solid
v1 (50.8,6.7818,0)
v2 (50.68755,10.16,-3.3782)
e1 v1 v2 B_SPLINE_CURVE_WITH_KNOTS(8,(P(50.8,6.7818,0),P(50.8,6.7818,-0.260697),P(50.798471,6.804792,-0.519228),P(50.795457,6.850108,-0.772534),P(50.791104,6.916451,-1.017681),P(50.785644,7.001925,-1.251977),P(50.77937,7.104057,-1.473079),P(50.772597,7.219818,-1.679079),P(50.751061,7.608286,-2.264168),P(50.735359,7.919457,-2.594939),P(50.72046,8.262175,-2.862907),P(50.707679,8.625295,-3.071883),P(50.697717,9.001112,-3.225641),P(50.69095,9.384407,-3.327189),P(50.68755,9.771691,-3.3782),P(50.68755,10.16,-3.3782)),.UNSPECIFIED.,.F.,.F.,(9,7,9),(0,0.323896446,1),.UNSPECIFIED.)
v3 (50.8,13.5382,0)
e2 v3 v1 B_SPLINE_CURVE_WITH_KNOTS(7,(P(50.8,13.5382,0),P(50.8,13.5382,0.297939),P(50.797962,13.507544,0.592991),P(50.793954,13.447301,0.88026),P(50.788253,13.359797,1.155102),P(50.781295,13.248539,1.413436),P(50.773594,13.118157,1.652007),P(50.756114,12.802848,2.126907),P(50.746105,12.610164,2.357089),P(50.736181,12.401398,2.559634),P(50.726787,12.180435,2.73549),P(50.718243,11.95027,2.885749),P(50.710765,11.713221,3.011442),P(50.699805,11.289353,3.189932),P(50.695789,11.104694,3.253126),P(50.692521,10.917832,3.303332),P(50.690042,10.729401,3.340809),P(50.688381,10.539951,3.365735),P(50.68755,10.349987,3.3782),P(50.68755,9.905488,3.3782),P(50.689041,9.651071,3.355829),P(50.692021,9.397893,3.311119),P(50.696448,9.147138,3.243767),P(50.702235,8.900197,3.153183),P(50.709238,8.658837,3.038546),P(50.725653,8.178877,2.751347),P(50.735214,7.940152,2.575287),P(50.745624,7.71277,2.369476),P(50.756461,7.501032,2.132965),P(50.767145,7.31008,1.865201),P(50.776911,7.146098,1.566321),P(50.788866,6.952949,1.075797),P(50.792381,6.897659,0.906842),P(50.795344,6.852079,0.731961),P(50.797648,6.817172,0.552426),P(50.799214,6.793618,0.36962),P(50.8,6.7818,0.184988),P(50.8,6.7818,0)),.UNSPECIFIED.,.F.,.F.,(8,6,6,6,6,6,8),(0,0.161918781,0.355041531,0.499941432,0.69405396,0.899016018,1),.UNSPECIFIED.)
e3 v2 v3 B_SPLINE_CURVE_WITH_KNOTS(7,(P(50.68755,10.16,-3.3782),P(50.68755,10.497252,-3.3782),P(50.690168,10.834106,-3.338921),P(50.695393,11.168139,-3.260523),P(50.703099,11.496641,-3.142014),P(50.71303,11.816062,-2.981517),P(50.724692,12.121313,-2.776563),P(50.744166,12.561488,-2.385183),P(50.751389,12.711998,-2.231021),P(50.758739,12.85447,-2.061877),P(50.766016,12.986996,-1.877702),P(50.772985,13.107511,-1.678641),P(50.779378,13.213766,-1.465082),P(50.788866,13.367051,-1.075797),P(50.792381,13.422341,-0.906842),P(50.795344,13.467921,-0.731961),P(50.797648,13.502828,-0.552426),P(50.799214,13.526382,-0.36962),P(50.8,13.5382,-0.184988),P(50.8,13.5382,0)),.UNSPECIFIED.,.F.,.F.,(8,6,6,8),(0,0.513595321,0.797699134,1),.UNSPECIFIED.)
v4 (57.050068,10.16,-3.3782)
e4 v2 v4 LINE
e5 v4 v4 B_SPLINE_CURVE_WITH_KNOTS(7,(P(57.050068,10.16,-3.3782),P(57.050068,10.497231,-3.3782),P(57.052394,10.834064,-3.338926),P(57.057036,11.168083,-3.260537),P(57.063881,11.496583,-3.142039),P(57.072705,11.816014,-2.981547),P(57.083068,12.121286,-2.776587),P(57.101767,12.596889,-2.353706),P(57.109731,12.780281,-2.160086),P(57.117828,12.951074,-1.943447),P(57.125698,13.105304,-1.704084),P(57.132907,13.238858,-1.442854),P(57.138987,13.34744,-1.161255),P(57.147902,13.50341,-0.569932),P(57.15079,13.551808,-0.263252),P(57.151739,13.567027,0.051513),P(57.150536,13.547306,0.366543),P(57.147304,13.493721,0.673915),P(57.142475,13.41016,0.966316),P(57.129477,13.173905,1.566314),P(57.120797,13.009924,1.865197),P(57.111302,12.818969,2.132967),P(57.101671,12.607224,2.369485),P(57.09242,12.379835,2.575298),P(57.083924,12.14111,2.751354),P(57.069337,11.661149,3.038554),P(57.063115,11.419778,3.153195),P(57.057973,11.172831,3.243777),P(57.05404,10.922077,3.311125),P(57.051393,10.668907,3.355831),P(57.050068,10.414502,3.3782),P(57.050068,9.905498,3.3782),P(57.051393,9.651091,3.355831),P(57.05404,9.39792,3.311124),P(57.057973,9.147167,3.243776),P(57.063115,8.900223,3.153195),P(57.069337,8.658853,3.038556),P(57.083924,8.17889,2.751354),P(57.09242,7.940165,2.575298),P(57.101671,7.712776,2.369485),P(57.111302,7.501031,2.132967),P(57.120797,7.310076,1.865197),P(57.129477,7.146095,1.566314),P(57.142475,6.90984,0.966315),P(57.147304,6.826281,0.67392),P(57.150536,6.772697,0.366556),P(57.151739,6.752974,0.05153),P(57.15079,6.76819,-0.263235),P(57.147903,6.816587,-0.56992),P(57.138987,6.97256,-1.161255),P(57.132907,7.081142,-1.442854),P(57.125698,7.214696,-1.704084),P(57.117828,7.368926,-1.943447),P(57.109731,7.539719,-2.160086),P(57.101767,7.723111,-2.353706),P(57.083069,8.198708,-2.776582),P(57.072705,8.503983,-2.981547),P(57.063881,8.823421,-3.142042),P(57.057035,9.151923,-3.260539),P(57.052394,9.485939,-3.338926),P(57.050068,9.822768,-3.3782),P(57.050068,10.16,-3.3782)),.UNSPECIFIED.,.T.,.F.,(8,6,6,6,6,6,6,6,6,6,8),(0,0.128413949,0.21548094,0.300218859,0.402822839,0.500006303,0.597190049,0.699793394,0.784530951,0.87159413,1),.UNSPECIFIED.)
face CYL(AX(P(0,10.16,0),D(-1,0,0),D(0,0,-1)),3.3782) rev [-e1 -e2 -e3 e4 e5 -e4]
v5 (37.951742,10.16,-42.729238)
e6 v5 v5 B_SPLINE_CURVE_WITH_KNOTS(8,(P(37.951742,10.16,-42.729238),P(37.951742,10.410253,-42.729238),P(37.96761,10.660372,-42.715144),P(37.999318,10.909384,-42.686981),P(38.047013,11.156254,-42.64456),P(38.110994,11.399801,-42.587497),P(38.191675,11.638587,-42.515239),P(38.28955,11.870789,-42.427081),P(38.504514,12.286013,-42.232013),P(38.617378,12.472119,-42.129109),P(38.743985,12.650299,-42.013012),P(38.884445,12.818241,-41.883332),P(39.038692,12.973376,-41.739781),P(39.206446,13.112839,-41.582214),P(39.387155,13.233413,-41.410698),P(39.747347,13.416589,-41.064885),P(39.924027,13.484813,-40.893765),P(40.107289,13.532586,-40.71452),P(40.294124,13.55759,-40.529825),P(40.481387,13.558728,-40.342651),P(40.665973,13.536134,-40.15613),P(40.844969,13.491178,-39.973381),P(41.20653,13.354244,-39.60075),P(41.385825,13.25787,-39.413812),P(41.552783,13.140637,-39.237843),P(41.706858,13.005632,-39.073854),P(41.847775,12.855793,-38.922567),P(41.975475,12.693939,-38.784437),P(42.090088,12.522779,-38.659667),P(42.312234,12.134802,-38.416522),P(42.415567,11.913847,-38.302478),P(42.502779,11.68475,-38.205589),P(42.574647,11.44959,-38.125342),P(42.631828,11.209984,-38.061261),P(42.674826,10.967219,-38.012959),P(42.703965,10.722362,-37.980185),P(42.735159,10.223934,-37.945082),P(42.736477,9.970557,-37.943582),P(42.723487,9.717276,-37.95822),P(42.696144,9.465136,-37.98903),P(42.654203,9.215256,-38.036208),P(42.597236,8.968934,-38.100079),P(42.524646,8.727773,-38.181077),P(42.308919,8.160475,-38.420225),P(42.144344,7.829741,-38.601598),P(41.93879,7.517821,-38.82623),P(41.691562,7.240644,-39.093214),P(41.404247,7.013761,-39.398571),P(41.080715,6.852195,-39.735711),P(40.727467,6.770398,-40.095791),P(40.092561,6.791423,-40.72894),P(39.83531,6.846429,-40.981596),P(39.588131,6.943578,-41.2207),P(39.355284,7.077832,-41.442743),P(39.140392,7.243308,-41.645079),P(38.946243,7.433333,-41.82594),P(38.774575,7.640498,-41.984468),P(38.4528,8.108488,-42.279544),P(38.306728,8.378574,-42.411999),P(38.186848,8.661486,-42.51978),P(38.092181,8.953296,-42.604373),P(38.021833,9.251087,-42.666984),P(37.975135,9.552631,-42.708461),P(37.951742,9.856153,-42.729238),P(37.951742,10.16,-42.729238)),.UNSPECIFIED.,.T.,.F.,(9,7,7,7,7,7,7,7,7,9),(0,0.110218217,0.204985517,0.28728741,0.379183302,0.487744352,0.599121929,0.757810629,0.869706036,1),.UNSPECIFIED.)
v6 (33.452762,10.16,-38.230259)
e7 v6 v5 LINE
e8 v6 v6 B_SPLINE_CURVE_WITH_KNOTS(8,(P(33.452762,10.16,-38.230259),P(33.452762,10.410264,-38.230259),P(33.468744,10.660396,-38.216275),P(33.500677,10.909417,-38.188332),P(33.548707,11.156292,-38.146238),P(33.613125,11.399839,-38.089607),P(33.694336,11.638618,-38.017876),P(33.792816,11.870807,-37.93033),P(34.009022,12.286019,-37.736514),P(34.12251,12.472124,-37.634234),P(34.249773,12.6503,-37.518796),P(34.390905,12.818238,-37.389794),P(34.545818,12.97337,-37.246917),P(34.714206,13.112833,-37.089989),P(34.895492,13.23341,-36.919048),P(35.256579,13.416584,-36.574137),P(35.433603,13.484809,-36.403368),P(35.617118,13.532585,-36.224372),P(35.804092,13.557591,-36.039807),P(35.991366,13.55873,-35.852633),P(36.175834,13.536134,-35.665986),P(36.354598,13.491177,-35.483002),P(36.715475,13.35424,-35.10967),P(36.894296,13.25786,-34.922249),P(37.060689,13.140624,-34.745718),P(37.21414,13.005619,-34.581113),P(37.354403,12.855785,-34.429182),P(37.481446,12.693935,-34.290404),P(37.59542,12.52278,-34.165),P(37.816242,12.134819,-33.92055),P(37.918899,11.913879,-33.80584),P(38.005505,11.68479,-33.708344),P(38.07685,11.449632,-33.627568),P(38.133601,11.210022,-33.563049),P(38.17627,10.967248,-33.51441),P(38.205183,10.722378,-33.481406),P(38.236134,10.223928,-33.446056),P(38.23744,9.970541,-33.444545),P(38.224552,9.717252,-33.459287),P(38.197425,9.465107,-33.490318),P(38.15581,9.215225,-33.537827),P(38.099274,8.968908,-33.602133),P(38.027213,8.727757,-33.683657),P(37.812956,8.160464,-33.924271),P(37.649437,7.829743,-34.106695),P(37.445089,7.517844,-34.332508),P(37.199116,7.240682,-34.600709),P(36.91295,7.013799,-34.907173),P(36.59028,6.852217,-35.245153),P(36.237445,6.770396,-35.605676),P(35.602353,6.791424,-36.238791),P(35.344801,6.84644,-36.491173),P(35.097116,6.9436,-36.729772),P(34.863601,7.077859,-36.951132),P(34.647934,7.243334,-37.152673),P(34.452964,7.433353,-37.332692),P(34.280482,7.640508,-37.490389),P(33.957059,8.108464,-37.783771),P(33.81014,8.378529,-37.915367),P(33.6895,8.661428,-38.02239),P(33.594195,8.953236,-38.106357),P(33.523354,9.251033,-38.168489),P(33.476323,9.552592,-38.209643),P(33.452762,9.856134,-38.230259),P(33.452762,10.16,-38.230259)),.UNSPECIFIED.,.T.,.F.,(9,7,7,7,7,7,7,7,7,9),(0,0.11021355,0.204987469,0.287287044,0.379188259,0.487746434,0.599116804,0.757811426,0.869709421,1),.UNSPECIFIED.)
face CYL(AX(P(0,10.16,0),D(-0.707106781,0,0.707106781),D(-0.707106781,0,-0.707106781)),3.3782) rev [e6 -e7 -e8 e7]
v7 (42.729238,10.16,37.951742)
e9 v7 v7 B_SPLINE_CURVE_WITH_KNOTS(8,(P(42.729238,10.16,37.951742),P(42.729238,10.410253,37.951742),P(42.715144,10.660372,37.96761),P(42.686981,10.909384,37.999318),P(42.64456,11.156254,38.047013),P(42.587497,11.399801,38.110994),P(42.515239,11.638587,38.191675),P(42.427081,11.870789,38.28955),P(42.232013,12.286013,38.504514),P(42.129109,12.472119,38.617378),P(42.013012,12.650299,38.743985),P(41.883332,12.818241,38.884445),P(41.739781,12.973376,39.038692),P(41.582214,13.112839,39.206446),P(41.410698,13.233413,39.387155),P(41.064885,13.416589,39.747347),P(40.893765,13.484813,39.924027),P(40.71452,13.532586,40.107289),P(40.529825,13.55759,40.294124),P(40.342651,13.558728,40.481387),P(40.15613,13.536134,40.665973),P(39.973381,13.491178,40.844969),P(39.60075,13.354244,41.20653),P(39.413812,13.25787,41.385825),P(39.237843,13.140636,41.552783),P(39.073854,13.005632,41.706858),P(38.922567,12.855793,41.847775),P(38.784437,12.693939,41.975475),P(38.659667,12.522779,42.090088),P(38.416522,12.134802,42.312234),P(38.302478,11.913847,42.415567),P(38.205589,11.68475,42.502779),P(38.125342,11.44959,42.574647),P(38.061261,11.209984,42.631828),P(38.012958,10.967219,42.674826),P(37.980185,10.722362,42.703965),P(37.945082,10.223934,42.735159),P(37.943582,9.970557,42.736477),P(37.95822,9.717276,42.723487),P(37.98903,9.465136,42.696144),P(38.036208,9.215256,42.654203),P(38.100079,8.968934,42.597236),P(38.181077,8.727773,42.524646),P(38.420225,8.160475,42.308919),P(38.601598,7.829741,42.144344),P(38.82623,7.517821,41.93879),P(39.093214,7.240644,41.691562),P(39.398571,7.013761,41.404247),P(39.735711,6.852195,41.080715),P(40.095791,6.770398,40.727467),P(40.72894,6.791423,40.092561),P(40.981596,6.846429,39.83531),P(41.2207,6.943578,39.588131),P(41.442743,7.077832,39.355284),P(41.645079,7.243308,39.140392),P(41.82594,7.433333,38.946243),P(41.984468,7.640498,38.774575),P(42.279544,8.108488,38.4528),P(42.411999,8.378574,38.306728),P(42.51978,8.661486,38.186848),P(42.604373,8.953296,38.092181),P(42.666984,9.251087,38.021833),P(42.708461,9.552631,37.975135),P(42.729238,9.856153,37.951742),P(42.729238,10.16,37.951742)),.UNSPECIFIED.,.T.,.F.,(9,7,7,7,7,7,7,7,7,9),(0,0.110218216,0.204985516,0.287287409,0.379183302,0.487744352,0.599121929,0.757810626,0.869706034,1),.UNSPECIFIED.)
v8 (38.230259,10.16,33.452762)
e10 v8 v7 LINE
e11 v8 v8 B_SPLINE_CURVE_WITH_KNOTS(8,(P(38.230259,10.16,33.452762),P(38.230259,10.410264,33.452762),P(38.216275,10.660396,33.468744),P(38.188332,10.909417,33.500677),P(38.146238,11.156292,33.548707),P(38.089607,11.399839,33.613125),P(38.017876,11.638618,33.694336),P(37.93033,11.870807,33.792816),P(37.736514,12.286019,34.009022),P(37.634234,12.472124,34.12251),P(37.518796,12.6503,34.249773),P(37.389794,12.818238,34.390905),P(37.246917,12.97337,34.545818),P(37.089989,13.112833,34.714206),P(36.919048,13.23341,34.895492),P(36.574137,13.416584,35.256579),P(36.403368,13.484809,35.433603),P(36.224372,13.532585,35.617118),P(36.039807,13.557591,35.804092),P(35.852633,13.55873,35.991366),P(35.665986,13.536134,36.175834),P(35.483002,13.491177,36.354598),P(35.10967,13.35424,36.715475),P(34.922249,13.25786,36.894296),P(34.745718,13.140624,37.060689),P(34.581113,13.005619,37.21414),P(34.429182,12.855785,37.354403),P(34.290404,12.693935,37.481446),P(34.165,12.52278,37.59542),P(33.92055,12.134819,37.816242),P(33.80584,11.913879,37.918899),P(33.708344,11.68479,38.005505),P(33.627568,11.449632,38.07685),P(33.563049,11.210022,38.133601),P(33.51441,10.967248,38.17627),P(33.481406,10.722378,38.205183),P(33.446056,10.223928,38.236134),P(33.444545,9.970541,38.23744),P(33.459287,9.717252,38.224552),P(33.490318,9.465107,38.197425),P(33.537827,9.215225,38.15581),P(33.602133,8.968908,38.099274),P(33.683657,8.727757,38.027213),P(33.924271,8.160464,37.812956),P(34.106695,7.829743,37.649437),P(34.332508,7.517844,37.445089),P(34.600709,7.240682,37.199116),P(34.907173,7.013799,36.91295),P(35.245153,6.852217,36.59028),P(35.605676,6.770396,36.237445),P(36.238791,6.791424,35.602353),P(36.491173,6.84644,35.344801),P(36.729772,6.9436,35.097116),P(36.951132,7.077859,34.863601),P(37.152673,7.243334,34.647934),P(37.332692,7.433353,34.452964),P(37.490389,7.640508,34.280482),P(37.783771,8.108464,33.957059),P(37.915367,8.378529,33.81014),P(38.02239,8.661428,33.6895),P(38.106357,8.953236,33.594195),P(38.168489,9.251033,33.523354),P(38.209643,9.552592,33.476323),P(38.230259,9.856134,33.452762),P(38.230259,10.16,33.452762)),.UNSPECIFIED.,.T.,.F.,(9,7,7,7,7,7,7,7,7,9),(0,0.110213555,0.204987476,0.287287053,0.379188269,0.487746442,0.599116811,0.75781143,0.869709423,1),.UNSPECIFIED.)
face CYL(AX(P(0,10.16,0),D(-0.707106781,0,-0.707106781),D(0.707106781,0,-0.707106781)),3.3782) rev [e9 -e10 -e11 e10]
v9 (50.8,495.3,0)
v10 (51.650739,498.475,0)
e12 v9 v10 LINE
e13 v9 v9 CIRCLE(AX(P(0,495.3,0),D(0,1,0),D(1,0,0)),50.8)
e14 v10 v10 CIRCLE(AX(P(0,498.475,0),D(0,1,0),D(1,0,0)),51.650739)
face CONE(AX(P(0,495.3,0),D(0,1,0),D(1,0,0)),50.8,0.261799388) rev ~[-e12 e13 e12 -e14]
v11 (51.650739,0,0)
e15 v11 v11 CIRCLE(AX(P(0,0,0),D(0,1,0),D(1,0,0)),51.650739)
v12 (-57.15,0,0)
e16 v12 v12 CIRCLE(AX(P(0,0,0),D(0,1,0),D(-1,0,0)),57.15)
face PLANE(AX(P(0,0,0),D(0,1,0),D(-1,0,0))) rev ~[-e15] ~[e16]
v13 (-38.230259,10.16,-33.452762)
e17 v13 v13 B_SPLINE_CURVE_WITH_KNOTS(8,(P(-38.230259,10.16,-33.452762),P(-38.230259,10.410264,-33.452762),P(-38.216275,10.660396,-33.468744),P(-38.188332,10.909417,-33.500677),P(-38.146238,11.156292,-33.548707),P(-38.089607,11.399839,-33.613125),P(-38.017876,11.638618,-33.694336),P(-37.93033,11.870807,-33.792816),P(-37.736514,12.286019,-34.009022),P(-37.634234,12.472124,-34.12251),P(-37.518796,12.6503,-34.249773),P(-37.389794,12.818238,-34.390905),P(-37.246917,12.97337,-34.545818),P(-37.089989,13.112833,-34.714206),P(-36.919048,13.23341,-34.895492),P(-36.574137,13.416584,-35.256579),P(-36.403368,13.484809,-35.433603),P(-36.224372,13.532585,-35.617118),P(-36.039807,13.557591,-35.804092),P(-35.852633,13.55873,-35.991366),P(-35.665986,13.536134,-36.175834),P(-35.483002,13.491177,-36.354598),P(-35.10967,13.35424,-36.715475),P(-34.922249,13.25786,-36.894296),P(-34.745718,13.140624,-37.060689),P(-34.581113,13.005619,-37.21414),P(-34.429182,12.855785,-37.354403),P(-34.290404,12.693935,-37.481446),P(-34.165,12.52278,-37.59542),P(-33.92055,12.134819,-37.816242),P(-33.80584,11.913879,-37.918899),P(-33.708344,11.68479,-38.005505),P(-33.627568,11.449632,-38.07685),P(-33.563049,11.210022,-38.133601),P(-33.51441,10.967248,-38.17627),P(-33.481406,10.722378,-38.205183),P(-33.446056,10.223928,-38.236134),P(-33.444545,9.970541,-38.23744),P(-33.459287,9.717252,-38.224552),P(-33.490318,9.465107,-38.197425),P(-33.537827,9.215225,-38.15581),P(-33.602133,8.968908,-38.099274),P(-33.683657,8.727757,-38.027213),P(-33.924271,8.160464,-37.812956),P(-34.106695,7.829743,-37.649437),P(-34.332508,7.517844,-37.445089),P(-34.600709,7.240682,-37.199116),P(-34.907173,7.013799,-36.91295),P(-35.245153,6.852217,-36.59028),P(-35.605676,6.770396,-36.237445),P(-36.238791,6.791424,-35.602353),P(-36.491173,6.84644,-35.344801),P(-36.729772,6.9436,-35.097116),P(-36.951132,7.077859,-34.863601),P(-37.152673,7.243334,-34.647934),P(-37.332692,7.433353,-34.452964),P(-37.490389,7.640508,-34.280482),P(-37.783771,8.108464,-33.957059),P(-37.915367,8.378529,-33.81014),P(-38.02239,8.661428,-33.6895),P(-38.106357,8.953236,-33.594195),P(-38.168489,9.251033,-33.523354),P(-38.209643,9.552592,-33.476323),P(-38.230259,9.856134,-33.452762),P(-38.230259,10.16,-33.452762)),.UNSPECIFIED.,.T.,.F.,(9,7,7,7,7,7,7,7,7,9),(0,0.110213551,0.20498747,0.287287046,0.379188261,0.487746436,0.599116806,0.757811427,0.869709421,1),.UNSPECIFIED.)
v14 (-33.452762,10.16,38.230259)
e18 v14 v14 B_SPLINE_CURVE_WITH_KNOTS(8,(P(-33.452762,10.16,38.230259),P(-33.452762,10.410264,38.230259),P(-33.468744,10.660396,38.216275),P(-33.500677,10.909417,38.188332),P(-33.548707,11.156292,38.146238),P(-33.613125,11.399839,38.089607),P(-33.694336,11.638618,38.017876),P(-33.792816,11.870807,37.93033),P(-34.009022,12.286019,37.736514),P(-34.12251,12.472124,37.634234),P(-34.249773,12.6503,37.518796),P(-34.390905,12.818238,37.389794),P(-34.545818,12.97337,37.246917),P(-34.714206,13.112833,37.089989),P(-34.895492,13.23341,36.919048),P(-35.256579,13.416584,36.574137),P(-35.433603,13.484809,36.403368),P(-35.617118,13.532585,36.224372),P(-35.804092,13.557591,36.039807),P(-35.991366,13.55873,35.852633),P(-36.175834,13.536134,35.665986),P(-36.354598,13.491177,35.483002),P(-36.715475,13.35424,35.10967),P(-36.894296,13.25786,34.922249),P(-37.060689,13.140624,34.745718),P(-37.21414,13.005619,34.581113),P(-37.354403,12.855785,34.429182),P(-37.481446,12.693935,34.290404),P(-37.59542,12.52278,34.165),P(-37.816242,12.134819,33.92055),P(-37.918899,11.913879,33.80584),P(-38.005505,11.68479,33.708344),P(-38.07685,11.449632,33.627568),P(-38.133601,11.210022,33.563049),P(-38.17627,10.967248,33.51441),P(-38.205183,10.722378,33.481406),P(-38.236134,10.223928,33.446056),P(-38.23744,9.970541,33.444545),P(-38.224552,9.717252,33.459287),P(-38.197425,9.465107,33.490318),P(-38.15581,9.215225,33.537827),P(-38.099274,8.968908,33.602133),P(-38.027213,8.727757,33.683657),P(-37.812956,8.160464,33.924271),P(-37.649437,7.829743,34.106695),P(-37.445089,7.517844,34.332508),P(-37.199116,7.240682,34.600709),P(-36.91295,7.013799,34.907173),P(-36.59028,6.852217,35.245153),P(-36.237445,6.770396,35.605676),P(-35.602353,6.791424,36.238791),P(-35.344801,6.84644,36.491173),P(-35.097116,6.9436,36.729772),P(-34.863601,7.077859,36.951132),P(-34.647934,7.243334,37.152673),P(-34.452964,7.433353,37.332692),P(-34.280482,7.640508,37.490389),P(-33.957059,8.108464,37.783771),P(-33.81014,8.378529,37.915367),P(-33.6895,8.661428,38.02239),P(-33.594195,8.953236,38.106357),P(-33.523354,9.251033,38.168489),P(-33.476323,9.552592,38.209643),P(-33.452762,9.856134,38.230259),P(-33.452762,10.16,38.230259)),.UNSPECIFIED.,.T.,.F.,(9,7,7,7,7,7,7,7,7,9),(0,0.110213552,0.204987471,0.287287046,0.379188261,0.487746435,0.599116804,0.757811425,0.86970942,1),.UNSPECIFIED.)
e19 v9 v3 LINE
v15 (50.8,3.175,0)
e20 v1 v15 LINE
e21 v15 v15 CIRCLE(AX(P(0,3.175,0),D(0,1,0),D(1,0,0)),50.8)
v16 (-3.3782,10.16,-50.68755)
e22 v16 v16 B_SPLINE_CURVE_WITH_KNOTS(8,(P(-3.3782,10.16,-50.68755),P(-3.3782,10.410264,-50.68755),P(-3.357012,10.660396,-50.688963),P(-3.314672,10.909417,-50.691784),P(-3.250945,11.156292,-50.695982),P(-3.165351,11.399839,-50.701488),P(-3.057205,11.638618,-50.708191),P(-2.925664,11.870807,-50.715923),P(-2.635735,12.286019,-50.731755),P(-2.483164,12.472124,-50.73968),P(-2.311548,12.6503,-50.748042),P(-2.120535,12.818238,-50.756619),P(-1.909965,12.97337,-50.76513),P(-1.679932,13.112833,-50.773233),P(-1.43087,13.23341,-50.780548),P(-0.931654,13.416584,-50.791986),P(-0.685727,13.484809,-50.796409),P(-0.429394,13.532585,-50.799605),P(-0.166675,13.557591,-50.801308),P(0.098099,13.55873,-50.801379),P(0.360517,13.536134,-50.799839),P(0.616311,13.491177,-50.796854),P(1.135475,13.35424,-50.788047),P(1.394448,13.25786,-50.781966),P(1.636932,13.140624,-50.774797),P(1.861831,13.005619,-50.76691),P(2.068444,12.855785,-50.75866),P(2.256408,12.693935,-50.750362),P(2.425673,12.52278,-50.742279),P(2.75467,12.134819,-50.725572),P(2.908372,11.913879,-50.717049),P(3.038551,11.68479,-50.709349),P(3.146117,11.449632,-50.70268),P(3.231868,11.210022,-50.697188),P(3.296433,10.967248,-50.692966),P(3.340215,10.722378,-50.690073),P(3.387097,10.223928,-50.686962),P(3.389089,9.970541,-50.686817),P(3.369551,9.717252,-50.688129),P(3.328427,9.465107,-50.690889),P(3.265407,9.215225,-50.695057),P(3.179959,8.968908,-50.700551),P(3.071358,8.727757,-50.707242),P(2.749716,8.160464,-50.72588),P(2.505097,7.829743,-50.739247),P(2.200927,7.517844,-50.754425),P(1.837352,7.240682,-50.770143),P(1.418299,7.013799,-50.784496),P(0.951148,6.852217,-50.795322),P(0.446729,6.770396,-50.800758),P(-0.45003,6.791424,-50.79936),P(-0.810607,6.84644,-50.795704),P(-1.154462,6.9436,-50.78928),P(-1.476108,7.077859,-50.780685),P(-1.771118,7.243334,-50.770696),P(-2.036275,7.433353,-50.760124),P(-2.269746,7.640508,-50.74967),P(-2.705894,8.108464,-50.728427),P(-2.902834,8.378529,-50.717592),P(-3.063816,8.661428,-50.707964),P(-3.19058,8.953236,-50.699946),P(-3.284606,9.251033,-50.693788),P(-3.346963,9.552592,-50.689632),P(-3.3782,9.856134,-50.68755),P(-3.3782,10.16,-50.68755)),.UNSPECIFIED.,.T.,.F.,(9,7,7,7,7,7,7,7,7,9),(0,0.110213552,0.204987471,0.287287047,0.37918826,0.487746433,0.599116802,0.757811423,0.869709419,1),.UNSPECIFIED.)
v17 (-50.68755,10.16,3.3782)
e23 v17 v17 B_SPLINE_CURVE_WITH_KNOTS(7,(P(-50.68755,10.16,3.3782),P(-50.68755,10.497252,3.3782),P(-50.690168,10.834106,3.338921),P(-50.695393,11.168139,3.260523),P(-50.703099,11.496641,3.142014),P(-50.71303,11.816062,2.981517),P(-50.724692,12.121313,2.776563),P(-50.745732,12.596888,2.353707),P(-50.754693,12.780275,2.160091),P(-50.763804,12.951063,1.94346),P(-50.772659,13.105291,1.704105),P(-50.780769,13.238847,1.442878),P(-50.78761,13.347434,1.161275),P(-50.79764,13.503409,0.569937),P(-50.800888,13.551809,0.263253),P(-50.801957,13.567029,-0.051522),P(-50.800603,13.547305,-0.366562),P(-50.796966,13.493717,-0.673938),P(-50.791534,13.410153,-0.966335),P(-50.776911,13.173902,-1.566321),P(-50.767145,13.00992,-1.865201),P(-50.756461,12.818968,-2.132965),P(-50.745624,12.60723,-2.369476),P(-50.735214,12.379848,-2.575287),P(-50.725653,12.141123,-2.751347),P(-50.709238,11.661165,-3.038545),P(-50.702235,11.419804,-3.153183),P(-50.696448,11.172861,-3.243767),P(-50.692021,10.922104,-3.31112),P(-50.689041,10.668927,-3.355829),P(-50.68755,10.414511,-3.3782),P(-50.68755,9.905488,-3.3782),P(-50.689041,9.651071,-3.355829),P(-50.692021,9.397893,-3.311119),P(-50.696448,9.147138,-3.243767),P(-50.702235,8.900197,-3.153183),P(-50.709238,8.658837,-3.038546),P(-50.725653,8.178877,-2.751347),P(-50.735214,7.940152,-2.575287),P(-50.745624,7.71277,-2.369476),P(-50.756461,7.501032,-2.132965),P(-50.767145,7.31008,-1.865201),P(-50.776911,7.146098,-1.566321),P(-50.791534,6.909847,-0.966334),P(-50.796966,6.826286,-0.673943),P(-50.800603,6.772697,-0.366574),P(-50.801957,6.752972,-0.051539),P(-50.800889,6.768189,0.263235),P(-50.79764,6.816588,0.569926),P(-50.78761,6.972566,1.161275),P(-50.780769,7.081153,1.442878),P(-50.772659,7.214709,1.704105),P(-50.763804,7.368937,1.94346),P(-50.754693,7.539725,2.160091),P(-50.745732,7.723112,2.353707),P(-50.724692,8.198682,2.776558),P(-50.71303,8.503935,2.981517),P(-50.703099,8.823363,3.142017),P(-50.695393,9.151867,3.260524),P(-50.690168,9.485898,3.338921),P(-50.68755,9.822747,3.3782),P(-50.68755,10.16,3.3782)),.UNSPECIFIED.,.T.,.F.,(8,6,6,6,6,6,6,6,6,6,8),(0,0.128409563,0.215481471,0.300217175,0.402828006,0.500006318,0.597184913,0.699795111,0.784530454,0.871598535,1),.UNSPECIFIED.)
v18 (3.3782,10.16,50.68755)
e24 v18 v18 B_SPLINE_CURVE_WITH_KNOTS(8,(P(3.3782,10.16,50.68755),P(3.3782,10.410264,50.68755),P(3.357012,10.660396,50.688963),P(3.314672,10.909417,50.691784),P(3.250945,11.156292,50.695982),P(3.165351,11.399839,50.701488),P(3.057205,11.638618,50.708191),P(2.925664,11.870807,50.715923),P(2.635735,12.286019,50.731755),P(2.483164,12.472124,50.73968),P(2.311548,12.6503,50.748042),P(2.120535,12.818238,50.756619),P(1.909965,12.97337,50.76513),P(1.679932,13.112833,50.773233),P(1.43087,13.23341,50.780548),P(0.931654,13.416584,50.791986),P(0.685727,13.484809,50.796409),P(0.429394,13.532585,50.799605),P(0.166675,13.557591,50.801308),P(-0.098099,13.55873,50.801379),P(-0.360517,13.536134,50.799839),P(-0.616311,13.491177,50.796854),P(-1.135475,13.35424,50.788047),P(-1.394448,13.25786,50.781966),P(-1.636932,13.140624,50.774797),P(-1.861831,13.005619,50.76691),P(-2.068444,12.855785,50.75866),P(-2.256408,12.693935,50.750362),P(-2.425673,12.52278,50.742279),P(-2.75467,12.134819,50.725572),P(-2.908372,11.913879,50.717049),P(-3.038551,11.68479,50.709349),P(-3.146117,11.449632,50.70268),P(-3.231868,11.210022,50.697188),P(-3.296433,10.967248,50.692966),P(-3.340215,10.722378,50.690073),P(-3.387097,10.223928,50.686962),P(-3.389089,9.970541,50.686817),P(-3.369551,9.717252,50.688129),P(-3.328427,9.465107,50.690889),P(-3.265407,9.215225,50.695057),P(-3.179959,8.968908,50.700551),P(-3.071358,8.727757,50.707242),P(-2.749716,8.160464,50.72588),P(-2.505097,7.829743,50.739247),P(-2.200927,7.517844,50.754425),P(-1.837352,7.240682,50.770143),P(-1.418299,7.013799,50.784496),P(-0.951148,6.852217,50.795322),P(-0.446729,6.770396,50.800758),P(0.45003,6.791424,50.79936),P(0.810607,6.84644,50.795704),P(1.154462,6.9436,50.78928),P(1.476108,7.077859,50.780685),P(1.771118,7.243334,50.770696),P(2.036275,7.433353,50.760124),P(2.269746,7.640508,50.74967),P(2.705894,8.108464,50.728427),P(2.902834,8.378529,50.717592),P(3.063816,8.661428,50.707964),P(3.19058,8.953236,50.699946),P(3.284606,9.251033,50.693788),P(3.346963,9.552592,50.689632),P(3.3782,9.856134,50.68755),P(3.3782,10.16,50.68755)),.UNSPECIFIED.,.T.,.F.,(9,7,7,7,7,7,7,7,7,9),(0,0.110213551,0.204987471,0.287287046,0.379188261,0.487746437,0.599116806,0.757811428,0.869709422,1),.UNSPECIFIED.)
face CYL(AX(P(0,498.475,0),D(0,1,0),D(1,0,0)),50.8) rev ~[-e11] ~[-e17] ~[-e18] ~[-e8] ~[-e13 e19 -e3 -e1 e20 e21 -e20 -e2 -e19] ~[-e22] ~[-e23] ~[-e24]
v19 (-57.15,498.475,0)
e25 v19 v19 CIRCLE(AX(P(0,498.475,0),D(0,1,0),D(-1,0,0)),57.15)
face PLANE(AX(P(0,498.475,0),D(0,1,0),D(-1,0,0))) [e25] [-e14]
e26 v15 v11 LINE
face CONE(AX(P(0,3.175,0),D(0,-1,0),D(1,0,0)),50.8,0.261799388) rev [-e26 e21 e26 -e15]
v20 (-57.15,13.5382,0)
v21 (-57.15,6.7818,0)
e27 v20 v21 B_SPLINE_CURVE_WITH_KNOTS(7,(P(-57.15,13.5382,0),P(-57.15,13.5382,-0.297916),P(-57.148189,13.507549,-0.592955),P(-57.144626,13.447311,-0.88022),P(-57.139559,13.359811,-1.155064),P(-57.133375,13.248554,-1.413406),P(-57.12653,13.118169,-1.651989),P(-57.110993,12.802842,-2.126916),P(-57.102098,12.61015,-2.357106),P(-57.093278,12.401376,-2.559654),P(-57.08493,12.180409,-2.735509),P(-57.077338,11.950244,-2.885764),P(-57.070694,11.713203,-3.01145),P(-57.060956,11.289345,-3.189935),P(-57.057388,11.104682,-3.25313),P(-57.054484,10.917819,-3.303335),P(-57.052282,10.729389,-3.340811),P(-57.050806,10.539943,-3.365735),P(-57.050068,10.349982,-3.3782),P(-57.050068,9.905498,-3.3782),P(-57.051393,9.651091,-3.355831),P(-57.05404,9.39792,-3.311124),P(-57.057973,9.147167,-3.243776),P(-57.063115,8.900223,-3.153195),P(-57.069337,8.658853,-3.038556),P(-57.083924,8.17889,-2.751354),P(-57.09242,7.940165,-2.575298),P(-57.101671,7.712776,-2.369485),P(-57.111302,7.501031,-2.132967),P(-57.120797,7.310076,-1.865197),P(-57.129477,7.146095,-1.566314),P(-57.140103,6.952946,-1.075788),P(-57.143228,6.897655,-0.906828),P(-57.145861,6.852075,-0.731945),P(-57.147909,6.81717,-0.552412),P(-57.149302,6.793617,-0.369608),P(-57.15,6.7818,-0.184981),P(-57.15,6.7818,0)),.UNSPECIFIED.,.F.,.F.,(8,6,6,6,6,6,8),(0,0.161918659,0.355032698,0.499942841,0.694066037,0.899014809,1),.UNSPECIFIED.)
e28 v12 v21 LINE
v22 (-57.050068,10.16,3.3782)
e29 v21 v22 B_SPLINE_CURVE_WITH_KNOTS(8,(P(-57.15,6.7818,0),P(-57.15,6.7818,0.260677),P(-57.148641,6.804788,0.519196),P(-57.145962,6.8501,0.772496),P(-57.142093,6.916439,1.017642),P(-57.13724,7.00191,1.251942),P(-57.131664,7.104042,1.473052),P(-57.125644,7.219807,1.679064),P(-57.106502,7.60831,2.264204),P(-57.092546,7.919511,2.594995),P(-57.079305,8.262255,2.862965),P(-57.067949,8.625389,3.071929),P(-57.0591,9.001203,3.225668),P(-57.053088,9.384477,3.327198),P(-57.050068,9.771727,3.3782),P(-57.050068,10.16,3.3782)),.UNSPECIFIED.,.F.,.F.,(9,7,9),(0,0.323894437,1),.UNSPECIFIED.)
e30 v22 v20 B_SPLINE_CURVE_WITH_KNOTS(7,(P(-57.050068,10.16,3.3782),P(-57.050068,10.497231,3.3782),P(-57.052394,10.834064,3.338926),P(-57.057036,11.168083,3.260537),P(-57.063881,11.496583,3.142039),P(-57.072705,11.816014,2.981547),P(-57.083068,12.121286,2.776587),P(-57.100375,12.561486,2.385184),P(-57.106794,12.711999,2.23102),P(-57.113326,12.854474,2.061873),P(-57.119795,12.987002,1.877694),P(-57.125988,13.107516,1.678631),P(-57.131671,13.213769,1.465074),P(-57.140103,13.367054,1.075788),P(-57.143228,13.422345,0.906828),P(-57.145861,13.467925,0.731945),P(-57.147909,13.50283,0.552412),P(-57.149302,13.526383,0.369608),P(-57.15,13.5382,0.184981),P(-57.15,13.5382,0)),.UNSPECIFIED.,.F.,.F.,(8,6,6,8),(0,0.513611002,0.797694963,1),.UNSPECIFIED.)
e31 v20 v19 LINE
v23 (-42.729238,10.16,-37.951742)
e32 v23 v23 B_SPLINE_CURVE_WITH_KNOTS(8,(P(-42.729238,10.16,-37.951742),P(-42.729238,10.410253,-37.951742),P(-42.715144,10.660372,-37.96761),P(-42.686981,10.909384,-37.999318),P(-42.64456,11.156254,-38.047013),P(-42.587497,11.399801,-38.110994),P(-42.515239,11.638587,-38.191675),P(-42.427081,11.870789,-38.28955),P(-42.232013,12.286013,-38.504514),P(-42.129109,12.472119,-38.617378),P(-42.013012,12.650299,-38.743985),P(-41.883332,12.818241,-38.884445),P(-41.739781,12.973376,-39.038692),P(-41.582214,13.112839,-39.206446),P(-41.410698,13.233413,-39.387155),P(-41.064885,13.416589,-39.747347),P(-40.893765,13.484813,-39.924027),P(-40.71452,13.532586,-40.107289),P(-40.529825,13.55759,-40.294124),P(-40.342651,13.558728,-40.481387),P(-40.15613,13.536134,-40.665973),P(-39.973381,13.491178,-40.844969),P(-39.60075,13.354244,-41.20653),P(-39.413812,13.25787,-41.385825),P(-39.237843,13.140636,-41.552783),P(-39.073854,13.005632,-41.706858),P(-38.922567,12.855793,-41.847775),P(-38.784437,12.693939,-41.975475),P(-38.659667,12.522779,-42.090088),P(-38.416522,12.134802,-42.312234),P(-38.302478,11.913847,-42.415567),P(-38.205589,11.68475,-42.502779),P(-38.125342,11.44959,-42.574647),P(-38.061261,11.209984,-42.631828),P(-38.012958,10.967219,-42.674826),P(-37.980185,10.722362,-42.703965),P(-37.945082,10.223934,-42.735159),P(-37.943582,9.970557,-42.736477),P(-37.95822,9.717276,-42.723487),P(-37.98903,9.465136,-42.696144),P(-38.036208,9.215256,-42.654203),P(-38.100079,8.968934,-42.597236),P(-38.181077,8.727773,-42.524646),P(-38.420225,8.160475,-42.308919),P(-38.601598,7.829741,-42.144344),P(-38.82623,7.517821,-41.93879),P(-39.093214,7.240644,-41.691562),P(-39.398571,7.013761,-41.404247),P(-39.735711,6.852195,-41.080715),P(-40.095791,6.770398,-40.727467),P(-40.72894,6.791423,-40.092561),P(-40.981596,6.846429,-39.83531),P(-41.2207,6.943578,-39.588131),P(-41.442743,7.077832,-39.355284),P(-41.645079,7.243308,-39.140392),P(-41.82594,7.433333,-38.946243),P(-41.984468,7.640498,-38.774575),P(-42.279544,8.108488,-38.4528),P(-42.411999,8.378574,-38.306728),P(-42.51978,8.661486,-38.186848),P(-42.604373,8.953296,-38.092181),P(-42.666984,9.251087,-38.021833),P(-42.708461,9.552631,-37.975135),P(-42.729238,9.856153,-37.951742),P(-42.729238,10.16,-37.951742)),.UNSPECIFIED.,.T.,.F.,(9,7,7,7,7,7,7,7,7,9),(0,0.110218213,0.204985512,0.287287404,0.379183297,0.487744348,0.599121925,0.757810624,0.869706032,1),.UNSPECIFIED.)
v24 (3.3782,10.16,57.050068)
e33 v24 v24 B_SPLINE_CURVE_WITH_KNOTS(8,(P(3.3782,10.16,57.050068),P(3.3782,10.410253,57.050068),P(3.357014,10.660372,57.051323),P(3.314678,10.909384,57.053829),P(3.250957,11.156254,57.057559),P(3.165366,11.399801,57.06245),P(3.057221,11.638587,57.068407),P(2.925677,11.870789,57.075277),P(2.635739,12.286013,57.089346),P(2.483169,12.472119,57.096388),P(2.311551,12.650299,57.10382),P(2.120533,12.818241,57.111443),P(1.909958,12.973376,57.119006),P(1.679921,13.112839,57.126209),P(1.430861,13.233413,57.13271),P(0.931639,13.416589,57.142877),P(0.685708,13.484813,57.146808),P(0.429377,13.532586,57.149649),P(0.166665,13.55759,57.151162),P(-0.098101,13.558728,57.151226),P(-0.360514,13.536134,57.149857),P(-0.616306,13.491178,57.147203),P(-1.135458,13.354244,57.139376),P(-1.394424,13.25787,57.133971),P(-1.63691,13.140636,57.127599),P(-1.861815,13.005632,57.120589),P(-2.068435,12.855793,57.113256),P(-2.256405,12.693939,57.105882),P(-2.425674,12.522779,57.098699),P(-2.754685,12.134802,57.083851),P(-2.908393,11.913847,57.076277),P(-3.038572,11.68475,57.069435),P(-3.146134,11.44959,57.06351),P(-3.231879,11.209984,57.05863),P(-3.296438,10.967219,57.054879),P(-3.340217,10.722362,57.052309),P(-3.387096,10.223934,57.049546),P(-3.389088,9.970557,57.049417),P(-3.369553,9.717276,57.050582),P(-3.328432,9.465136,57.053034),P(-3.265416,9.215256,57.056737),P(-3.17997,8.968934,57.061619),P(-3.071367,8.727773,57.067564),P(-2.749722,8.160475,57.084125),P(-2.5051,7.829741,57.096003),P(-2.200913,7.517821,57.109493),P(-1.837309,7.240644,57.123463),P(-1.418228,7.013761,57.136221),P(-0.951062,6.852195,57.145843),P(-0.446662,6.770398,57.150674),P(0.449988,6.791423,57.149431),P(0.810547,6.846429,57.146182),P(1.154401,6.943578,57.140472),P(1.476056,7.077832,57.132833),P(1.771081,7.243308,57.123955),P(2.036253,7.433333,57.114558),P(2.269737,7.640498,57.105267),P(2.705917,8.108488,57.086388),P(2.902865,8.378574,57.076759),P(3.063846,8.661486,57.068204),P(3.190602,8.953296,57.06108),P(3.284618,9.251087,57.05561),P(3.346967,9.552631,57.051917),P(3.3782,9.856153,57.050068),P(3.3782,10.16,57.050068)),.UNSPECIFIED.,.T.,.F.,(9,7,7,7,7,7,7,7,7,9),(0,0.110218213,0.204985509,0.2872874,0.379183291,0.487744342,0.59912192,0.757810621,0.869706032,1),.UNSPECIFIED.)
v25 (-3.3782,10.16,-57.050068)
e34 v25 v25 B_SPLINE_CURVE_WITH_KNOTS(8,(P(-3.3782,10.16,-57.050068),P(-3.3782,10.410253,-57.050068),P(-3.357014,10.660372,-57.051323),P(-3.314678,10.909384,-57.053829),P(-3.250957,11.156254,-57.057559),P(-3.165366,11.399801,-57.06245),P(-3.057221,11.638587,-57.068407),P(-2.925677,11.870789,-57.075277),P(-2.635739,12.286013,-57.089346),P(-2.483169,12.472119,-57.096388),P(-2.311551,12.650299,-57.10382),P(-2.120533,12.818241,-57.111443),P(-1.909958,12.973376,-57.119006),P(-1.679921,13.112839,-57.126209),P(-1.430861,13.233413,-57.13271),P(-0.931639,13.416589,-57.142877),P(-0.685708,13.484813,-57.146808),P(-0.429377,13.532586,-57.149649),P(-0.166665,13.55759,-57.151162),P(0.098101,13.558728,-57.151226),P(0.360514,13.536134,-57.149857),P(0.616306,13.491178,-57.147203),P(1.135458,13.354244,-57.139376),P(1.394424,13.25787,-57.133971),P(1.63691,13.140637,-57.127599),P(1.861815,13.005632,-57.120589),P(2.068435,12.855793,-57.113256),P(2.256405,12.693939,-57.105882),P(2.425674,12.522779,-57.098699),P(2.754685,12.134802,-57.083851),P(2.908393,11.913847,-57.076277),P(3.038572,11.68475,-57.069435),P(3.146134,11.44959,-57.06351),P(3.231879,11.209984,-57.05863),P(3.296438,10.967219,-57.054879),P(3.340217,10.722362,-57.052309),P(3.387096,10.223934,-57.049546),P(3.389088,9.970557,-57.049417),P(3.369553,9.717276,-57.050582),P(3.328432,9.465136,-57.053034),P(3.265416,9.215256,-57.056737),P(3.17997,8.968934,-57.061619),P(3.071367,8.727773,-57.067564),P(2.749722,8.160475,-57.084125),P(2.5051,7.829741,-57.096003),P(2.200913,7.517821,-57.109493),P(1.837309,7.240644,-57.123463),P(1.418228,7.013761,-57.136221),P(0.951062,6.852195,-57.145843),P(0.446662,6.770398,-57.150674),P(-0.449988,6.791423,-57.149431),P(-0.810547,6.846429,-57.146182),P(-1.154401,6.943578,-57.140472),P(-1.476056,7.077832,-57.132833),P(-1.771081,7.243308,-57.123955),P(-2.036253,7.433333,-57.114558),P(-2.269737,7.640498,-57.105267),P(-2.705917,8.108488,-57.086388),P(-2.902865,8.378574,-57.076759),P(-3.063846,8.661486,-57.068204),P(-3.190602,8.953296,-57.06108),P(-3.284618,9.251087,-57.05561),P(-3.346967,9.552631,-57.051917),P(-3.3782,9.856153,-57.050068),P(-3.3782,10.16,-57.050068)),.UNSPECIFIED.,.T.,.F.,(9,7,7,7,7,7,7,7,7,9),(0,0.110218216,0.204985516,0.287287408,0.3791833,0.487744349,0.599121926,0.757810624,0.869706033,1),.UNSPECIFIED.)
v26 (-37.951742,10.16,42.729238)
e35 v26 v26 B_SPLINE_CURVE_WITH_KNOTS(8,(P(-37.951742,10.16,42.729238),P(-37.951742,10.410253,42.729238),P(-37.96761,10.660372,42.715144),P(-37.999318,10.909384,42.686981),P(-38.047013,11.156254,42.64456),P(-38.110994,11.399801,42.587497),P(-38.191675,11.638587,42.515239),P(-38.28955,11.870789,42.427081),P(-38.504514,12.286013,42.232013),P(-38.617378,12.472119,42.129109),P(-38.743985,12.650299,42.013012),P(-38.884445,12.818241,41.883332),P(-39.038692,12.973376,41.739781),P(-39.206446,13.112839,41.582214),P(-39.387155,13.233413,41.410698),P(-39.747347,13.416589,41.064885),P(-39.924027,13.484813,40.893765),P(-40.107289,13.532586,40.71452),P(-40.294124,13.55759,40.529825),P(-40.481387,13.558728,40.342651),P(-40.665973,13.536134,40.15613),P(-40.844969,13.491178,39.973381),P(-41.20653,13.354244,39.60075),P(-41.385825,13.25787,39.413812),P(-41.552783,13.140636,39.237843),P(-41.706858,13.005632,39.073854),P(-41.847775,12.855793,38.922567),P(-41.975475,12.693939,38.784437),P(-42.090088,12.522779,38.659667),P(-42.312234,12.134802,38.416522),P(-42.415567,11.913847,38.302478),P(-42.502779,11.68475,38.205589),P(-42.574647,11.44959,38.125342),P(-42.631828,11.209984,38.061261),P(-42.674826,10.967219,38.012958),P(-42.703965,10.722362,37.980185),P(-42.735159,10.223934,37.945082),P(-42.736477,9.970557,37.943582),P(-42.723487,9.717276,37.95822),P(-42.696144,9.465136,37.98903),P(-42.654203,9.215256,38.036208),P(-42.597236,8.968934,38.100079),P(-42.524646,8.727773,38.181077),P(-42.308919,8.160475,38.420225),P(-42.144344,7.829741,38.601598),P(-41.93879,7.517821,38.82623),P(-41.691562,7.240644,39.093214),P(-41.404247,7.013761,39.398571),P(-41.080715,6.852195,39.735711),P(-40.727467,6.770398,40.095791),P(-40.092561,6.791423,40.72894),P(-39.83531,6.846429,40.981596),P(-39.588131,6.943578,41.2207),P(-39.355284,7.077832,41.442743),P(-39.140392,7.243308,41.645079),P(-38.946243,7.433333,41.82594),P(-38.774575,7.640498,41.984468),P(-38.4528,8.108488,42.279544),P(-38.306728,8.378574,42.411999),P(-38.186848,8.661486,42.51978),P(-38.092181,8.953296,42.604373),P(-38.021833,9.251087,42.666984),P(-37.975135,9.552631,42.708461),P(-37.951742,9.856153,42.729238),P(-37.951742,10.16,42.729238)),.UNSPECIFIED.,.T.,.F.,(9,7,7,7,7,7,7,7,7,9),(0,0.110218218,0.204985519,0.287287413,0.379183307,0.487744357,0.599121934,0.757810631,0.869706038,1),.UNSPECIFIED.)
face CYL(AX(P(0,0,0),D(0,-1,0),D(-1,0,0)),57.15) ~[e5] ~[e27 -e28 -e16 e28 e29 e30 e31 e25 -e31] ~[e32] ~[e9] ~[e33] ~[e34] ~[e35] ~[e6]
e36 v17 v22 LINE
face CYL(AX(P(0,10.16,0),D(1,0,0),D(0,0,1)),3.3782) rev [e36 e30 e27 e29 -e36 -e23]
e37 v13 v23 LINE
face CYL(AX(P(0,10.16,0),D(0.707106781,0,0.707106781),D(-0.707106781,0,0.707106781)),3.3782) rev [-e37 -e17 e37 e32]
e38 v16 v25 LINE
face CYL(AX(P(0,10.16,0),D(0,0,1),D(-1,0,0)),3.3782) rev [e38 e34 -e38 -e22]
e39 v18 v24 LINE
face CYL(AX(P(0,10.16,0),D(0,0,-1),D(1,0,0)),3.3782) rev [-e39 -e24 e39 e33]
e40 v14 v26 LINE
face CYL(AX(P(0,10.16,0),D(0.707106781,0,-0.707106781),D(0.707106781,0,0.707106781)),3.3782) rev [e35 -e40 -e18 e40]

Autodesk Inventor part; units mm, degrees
ref_plane "XZ Plane" through (0, 0, 0) normal (0, 1, 0) x (-1, 0, 0)
ref_plane "XY Plane" through (0, 0, 0) normal (0, 0, 1) x (1, 0, 0)
sketch "Sketch1" plane through (0, 0, 0) normal (0, 1, 0) x (-1, 0, 0)
  circle A0 centre (0, 0) radius 57.15
  dimension "d0" = 114.3
extrude "Extrusion1" add sketch "Sketch1" along normal blind 498.475
sketch "Sketch2" plane through (0, 498.475, 0) normal (0, 1, 0) x (1, 0, 0)
  circle A0 centre (0, 0) radius 50.8
  dimension "d3" = 101.6
extrude "Extrusion2" cut sketch "Sketch2" against normal blind 609.6
ref_plane "Work Plane1" through (57.15, 0, 0) normal (1, 0, 0) x (0, 1, 0)
chamfer "Chamfer1" distance 3.175 angle 15 1 edges at (-50.8, 498.475, 0) measured on face at (-13.148, 166.1583, 49.069)
sketch "Sketch4" plane through (0, 0, 0) normal (0, 0, 1) x (1, 0, 0)
  circle A0 centre (0, 10.16) radius 3.3782
  point P0 (0, 0)
  dimension "d21" = 10.16
  dimension "d22" = 6.7564
extrude "Extrusion3" cut sketch "Sketch4" along normal through all
pattern_circular "Circular Pattern2" count 8 over 360 about axis through (0, -10, 0) along (0, 1, 0) of "Extrusion3"
chamfer "Chamfer2" distance 3.175 angle 15 1 edges at (-50.8, 0, 0) measured on face at (25.4, 165.1, 43.9941)
properties part number "Combustion Chamber" material "Aluminum 6061"
